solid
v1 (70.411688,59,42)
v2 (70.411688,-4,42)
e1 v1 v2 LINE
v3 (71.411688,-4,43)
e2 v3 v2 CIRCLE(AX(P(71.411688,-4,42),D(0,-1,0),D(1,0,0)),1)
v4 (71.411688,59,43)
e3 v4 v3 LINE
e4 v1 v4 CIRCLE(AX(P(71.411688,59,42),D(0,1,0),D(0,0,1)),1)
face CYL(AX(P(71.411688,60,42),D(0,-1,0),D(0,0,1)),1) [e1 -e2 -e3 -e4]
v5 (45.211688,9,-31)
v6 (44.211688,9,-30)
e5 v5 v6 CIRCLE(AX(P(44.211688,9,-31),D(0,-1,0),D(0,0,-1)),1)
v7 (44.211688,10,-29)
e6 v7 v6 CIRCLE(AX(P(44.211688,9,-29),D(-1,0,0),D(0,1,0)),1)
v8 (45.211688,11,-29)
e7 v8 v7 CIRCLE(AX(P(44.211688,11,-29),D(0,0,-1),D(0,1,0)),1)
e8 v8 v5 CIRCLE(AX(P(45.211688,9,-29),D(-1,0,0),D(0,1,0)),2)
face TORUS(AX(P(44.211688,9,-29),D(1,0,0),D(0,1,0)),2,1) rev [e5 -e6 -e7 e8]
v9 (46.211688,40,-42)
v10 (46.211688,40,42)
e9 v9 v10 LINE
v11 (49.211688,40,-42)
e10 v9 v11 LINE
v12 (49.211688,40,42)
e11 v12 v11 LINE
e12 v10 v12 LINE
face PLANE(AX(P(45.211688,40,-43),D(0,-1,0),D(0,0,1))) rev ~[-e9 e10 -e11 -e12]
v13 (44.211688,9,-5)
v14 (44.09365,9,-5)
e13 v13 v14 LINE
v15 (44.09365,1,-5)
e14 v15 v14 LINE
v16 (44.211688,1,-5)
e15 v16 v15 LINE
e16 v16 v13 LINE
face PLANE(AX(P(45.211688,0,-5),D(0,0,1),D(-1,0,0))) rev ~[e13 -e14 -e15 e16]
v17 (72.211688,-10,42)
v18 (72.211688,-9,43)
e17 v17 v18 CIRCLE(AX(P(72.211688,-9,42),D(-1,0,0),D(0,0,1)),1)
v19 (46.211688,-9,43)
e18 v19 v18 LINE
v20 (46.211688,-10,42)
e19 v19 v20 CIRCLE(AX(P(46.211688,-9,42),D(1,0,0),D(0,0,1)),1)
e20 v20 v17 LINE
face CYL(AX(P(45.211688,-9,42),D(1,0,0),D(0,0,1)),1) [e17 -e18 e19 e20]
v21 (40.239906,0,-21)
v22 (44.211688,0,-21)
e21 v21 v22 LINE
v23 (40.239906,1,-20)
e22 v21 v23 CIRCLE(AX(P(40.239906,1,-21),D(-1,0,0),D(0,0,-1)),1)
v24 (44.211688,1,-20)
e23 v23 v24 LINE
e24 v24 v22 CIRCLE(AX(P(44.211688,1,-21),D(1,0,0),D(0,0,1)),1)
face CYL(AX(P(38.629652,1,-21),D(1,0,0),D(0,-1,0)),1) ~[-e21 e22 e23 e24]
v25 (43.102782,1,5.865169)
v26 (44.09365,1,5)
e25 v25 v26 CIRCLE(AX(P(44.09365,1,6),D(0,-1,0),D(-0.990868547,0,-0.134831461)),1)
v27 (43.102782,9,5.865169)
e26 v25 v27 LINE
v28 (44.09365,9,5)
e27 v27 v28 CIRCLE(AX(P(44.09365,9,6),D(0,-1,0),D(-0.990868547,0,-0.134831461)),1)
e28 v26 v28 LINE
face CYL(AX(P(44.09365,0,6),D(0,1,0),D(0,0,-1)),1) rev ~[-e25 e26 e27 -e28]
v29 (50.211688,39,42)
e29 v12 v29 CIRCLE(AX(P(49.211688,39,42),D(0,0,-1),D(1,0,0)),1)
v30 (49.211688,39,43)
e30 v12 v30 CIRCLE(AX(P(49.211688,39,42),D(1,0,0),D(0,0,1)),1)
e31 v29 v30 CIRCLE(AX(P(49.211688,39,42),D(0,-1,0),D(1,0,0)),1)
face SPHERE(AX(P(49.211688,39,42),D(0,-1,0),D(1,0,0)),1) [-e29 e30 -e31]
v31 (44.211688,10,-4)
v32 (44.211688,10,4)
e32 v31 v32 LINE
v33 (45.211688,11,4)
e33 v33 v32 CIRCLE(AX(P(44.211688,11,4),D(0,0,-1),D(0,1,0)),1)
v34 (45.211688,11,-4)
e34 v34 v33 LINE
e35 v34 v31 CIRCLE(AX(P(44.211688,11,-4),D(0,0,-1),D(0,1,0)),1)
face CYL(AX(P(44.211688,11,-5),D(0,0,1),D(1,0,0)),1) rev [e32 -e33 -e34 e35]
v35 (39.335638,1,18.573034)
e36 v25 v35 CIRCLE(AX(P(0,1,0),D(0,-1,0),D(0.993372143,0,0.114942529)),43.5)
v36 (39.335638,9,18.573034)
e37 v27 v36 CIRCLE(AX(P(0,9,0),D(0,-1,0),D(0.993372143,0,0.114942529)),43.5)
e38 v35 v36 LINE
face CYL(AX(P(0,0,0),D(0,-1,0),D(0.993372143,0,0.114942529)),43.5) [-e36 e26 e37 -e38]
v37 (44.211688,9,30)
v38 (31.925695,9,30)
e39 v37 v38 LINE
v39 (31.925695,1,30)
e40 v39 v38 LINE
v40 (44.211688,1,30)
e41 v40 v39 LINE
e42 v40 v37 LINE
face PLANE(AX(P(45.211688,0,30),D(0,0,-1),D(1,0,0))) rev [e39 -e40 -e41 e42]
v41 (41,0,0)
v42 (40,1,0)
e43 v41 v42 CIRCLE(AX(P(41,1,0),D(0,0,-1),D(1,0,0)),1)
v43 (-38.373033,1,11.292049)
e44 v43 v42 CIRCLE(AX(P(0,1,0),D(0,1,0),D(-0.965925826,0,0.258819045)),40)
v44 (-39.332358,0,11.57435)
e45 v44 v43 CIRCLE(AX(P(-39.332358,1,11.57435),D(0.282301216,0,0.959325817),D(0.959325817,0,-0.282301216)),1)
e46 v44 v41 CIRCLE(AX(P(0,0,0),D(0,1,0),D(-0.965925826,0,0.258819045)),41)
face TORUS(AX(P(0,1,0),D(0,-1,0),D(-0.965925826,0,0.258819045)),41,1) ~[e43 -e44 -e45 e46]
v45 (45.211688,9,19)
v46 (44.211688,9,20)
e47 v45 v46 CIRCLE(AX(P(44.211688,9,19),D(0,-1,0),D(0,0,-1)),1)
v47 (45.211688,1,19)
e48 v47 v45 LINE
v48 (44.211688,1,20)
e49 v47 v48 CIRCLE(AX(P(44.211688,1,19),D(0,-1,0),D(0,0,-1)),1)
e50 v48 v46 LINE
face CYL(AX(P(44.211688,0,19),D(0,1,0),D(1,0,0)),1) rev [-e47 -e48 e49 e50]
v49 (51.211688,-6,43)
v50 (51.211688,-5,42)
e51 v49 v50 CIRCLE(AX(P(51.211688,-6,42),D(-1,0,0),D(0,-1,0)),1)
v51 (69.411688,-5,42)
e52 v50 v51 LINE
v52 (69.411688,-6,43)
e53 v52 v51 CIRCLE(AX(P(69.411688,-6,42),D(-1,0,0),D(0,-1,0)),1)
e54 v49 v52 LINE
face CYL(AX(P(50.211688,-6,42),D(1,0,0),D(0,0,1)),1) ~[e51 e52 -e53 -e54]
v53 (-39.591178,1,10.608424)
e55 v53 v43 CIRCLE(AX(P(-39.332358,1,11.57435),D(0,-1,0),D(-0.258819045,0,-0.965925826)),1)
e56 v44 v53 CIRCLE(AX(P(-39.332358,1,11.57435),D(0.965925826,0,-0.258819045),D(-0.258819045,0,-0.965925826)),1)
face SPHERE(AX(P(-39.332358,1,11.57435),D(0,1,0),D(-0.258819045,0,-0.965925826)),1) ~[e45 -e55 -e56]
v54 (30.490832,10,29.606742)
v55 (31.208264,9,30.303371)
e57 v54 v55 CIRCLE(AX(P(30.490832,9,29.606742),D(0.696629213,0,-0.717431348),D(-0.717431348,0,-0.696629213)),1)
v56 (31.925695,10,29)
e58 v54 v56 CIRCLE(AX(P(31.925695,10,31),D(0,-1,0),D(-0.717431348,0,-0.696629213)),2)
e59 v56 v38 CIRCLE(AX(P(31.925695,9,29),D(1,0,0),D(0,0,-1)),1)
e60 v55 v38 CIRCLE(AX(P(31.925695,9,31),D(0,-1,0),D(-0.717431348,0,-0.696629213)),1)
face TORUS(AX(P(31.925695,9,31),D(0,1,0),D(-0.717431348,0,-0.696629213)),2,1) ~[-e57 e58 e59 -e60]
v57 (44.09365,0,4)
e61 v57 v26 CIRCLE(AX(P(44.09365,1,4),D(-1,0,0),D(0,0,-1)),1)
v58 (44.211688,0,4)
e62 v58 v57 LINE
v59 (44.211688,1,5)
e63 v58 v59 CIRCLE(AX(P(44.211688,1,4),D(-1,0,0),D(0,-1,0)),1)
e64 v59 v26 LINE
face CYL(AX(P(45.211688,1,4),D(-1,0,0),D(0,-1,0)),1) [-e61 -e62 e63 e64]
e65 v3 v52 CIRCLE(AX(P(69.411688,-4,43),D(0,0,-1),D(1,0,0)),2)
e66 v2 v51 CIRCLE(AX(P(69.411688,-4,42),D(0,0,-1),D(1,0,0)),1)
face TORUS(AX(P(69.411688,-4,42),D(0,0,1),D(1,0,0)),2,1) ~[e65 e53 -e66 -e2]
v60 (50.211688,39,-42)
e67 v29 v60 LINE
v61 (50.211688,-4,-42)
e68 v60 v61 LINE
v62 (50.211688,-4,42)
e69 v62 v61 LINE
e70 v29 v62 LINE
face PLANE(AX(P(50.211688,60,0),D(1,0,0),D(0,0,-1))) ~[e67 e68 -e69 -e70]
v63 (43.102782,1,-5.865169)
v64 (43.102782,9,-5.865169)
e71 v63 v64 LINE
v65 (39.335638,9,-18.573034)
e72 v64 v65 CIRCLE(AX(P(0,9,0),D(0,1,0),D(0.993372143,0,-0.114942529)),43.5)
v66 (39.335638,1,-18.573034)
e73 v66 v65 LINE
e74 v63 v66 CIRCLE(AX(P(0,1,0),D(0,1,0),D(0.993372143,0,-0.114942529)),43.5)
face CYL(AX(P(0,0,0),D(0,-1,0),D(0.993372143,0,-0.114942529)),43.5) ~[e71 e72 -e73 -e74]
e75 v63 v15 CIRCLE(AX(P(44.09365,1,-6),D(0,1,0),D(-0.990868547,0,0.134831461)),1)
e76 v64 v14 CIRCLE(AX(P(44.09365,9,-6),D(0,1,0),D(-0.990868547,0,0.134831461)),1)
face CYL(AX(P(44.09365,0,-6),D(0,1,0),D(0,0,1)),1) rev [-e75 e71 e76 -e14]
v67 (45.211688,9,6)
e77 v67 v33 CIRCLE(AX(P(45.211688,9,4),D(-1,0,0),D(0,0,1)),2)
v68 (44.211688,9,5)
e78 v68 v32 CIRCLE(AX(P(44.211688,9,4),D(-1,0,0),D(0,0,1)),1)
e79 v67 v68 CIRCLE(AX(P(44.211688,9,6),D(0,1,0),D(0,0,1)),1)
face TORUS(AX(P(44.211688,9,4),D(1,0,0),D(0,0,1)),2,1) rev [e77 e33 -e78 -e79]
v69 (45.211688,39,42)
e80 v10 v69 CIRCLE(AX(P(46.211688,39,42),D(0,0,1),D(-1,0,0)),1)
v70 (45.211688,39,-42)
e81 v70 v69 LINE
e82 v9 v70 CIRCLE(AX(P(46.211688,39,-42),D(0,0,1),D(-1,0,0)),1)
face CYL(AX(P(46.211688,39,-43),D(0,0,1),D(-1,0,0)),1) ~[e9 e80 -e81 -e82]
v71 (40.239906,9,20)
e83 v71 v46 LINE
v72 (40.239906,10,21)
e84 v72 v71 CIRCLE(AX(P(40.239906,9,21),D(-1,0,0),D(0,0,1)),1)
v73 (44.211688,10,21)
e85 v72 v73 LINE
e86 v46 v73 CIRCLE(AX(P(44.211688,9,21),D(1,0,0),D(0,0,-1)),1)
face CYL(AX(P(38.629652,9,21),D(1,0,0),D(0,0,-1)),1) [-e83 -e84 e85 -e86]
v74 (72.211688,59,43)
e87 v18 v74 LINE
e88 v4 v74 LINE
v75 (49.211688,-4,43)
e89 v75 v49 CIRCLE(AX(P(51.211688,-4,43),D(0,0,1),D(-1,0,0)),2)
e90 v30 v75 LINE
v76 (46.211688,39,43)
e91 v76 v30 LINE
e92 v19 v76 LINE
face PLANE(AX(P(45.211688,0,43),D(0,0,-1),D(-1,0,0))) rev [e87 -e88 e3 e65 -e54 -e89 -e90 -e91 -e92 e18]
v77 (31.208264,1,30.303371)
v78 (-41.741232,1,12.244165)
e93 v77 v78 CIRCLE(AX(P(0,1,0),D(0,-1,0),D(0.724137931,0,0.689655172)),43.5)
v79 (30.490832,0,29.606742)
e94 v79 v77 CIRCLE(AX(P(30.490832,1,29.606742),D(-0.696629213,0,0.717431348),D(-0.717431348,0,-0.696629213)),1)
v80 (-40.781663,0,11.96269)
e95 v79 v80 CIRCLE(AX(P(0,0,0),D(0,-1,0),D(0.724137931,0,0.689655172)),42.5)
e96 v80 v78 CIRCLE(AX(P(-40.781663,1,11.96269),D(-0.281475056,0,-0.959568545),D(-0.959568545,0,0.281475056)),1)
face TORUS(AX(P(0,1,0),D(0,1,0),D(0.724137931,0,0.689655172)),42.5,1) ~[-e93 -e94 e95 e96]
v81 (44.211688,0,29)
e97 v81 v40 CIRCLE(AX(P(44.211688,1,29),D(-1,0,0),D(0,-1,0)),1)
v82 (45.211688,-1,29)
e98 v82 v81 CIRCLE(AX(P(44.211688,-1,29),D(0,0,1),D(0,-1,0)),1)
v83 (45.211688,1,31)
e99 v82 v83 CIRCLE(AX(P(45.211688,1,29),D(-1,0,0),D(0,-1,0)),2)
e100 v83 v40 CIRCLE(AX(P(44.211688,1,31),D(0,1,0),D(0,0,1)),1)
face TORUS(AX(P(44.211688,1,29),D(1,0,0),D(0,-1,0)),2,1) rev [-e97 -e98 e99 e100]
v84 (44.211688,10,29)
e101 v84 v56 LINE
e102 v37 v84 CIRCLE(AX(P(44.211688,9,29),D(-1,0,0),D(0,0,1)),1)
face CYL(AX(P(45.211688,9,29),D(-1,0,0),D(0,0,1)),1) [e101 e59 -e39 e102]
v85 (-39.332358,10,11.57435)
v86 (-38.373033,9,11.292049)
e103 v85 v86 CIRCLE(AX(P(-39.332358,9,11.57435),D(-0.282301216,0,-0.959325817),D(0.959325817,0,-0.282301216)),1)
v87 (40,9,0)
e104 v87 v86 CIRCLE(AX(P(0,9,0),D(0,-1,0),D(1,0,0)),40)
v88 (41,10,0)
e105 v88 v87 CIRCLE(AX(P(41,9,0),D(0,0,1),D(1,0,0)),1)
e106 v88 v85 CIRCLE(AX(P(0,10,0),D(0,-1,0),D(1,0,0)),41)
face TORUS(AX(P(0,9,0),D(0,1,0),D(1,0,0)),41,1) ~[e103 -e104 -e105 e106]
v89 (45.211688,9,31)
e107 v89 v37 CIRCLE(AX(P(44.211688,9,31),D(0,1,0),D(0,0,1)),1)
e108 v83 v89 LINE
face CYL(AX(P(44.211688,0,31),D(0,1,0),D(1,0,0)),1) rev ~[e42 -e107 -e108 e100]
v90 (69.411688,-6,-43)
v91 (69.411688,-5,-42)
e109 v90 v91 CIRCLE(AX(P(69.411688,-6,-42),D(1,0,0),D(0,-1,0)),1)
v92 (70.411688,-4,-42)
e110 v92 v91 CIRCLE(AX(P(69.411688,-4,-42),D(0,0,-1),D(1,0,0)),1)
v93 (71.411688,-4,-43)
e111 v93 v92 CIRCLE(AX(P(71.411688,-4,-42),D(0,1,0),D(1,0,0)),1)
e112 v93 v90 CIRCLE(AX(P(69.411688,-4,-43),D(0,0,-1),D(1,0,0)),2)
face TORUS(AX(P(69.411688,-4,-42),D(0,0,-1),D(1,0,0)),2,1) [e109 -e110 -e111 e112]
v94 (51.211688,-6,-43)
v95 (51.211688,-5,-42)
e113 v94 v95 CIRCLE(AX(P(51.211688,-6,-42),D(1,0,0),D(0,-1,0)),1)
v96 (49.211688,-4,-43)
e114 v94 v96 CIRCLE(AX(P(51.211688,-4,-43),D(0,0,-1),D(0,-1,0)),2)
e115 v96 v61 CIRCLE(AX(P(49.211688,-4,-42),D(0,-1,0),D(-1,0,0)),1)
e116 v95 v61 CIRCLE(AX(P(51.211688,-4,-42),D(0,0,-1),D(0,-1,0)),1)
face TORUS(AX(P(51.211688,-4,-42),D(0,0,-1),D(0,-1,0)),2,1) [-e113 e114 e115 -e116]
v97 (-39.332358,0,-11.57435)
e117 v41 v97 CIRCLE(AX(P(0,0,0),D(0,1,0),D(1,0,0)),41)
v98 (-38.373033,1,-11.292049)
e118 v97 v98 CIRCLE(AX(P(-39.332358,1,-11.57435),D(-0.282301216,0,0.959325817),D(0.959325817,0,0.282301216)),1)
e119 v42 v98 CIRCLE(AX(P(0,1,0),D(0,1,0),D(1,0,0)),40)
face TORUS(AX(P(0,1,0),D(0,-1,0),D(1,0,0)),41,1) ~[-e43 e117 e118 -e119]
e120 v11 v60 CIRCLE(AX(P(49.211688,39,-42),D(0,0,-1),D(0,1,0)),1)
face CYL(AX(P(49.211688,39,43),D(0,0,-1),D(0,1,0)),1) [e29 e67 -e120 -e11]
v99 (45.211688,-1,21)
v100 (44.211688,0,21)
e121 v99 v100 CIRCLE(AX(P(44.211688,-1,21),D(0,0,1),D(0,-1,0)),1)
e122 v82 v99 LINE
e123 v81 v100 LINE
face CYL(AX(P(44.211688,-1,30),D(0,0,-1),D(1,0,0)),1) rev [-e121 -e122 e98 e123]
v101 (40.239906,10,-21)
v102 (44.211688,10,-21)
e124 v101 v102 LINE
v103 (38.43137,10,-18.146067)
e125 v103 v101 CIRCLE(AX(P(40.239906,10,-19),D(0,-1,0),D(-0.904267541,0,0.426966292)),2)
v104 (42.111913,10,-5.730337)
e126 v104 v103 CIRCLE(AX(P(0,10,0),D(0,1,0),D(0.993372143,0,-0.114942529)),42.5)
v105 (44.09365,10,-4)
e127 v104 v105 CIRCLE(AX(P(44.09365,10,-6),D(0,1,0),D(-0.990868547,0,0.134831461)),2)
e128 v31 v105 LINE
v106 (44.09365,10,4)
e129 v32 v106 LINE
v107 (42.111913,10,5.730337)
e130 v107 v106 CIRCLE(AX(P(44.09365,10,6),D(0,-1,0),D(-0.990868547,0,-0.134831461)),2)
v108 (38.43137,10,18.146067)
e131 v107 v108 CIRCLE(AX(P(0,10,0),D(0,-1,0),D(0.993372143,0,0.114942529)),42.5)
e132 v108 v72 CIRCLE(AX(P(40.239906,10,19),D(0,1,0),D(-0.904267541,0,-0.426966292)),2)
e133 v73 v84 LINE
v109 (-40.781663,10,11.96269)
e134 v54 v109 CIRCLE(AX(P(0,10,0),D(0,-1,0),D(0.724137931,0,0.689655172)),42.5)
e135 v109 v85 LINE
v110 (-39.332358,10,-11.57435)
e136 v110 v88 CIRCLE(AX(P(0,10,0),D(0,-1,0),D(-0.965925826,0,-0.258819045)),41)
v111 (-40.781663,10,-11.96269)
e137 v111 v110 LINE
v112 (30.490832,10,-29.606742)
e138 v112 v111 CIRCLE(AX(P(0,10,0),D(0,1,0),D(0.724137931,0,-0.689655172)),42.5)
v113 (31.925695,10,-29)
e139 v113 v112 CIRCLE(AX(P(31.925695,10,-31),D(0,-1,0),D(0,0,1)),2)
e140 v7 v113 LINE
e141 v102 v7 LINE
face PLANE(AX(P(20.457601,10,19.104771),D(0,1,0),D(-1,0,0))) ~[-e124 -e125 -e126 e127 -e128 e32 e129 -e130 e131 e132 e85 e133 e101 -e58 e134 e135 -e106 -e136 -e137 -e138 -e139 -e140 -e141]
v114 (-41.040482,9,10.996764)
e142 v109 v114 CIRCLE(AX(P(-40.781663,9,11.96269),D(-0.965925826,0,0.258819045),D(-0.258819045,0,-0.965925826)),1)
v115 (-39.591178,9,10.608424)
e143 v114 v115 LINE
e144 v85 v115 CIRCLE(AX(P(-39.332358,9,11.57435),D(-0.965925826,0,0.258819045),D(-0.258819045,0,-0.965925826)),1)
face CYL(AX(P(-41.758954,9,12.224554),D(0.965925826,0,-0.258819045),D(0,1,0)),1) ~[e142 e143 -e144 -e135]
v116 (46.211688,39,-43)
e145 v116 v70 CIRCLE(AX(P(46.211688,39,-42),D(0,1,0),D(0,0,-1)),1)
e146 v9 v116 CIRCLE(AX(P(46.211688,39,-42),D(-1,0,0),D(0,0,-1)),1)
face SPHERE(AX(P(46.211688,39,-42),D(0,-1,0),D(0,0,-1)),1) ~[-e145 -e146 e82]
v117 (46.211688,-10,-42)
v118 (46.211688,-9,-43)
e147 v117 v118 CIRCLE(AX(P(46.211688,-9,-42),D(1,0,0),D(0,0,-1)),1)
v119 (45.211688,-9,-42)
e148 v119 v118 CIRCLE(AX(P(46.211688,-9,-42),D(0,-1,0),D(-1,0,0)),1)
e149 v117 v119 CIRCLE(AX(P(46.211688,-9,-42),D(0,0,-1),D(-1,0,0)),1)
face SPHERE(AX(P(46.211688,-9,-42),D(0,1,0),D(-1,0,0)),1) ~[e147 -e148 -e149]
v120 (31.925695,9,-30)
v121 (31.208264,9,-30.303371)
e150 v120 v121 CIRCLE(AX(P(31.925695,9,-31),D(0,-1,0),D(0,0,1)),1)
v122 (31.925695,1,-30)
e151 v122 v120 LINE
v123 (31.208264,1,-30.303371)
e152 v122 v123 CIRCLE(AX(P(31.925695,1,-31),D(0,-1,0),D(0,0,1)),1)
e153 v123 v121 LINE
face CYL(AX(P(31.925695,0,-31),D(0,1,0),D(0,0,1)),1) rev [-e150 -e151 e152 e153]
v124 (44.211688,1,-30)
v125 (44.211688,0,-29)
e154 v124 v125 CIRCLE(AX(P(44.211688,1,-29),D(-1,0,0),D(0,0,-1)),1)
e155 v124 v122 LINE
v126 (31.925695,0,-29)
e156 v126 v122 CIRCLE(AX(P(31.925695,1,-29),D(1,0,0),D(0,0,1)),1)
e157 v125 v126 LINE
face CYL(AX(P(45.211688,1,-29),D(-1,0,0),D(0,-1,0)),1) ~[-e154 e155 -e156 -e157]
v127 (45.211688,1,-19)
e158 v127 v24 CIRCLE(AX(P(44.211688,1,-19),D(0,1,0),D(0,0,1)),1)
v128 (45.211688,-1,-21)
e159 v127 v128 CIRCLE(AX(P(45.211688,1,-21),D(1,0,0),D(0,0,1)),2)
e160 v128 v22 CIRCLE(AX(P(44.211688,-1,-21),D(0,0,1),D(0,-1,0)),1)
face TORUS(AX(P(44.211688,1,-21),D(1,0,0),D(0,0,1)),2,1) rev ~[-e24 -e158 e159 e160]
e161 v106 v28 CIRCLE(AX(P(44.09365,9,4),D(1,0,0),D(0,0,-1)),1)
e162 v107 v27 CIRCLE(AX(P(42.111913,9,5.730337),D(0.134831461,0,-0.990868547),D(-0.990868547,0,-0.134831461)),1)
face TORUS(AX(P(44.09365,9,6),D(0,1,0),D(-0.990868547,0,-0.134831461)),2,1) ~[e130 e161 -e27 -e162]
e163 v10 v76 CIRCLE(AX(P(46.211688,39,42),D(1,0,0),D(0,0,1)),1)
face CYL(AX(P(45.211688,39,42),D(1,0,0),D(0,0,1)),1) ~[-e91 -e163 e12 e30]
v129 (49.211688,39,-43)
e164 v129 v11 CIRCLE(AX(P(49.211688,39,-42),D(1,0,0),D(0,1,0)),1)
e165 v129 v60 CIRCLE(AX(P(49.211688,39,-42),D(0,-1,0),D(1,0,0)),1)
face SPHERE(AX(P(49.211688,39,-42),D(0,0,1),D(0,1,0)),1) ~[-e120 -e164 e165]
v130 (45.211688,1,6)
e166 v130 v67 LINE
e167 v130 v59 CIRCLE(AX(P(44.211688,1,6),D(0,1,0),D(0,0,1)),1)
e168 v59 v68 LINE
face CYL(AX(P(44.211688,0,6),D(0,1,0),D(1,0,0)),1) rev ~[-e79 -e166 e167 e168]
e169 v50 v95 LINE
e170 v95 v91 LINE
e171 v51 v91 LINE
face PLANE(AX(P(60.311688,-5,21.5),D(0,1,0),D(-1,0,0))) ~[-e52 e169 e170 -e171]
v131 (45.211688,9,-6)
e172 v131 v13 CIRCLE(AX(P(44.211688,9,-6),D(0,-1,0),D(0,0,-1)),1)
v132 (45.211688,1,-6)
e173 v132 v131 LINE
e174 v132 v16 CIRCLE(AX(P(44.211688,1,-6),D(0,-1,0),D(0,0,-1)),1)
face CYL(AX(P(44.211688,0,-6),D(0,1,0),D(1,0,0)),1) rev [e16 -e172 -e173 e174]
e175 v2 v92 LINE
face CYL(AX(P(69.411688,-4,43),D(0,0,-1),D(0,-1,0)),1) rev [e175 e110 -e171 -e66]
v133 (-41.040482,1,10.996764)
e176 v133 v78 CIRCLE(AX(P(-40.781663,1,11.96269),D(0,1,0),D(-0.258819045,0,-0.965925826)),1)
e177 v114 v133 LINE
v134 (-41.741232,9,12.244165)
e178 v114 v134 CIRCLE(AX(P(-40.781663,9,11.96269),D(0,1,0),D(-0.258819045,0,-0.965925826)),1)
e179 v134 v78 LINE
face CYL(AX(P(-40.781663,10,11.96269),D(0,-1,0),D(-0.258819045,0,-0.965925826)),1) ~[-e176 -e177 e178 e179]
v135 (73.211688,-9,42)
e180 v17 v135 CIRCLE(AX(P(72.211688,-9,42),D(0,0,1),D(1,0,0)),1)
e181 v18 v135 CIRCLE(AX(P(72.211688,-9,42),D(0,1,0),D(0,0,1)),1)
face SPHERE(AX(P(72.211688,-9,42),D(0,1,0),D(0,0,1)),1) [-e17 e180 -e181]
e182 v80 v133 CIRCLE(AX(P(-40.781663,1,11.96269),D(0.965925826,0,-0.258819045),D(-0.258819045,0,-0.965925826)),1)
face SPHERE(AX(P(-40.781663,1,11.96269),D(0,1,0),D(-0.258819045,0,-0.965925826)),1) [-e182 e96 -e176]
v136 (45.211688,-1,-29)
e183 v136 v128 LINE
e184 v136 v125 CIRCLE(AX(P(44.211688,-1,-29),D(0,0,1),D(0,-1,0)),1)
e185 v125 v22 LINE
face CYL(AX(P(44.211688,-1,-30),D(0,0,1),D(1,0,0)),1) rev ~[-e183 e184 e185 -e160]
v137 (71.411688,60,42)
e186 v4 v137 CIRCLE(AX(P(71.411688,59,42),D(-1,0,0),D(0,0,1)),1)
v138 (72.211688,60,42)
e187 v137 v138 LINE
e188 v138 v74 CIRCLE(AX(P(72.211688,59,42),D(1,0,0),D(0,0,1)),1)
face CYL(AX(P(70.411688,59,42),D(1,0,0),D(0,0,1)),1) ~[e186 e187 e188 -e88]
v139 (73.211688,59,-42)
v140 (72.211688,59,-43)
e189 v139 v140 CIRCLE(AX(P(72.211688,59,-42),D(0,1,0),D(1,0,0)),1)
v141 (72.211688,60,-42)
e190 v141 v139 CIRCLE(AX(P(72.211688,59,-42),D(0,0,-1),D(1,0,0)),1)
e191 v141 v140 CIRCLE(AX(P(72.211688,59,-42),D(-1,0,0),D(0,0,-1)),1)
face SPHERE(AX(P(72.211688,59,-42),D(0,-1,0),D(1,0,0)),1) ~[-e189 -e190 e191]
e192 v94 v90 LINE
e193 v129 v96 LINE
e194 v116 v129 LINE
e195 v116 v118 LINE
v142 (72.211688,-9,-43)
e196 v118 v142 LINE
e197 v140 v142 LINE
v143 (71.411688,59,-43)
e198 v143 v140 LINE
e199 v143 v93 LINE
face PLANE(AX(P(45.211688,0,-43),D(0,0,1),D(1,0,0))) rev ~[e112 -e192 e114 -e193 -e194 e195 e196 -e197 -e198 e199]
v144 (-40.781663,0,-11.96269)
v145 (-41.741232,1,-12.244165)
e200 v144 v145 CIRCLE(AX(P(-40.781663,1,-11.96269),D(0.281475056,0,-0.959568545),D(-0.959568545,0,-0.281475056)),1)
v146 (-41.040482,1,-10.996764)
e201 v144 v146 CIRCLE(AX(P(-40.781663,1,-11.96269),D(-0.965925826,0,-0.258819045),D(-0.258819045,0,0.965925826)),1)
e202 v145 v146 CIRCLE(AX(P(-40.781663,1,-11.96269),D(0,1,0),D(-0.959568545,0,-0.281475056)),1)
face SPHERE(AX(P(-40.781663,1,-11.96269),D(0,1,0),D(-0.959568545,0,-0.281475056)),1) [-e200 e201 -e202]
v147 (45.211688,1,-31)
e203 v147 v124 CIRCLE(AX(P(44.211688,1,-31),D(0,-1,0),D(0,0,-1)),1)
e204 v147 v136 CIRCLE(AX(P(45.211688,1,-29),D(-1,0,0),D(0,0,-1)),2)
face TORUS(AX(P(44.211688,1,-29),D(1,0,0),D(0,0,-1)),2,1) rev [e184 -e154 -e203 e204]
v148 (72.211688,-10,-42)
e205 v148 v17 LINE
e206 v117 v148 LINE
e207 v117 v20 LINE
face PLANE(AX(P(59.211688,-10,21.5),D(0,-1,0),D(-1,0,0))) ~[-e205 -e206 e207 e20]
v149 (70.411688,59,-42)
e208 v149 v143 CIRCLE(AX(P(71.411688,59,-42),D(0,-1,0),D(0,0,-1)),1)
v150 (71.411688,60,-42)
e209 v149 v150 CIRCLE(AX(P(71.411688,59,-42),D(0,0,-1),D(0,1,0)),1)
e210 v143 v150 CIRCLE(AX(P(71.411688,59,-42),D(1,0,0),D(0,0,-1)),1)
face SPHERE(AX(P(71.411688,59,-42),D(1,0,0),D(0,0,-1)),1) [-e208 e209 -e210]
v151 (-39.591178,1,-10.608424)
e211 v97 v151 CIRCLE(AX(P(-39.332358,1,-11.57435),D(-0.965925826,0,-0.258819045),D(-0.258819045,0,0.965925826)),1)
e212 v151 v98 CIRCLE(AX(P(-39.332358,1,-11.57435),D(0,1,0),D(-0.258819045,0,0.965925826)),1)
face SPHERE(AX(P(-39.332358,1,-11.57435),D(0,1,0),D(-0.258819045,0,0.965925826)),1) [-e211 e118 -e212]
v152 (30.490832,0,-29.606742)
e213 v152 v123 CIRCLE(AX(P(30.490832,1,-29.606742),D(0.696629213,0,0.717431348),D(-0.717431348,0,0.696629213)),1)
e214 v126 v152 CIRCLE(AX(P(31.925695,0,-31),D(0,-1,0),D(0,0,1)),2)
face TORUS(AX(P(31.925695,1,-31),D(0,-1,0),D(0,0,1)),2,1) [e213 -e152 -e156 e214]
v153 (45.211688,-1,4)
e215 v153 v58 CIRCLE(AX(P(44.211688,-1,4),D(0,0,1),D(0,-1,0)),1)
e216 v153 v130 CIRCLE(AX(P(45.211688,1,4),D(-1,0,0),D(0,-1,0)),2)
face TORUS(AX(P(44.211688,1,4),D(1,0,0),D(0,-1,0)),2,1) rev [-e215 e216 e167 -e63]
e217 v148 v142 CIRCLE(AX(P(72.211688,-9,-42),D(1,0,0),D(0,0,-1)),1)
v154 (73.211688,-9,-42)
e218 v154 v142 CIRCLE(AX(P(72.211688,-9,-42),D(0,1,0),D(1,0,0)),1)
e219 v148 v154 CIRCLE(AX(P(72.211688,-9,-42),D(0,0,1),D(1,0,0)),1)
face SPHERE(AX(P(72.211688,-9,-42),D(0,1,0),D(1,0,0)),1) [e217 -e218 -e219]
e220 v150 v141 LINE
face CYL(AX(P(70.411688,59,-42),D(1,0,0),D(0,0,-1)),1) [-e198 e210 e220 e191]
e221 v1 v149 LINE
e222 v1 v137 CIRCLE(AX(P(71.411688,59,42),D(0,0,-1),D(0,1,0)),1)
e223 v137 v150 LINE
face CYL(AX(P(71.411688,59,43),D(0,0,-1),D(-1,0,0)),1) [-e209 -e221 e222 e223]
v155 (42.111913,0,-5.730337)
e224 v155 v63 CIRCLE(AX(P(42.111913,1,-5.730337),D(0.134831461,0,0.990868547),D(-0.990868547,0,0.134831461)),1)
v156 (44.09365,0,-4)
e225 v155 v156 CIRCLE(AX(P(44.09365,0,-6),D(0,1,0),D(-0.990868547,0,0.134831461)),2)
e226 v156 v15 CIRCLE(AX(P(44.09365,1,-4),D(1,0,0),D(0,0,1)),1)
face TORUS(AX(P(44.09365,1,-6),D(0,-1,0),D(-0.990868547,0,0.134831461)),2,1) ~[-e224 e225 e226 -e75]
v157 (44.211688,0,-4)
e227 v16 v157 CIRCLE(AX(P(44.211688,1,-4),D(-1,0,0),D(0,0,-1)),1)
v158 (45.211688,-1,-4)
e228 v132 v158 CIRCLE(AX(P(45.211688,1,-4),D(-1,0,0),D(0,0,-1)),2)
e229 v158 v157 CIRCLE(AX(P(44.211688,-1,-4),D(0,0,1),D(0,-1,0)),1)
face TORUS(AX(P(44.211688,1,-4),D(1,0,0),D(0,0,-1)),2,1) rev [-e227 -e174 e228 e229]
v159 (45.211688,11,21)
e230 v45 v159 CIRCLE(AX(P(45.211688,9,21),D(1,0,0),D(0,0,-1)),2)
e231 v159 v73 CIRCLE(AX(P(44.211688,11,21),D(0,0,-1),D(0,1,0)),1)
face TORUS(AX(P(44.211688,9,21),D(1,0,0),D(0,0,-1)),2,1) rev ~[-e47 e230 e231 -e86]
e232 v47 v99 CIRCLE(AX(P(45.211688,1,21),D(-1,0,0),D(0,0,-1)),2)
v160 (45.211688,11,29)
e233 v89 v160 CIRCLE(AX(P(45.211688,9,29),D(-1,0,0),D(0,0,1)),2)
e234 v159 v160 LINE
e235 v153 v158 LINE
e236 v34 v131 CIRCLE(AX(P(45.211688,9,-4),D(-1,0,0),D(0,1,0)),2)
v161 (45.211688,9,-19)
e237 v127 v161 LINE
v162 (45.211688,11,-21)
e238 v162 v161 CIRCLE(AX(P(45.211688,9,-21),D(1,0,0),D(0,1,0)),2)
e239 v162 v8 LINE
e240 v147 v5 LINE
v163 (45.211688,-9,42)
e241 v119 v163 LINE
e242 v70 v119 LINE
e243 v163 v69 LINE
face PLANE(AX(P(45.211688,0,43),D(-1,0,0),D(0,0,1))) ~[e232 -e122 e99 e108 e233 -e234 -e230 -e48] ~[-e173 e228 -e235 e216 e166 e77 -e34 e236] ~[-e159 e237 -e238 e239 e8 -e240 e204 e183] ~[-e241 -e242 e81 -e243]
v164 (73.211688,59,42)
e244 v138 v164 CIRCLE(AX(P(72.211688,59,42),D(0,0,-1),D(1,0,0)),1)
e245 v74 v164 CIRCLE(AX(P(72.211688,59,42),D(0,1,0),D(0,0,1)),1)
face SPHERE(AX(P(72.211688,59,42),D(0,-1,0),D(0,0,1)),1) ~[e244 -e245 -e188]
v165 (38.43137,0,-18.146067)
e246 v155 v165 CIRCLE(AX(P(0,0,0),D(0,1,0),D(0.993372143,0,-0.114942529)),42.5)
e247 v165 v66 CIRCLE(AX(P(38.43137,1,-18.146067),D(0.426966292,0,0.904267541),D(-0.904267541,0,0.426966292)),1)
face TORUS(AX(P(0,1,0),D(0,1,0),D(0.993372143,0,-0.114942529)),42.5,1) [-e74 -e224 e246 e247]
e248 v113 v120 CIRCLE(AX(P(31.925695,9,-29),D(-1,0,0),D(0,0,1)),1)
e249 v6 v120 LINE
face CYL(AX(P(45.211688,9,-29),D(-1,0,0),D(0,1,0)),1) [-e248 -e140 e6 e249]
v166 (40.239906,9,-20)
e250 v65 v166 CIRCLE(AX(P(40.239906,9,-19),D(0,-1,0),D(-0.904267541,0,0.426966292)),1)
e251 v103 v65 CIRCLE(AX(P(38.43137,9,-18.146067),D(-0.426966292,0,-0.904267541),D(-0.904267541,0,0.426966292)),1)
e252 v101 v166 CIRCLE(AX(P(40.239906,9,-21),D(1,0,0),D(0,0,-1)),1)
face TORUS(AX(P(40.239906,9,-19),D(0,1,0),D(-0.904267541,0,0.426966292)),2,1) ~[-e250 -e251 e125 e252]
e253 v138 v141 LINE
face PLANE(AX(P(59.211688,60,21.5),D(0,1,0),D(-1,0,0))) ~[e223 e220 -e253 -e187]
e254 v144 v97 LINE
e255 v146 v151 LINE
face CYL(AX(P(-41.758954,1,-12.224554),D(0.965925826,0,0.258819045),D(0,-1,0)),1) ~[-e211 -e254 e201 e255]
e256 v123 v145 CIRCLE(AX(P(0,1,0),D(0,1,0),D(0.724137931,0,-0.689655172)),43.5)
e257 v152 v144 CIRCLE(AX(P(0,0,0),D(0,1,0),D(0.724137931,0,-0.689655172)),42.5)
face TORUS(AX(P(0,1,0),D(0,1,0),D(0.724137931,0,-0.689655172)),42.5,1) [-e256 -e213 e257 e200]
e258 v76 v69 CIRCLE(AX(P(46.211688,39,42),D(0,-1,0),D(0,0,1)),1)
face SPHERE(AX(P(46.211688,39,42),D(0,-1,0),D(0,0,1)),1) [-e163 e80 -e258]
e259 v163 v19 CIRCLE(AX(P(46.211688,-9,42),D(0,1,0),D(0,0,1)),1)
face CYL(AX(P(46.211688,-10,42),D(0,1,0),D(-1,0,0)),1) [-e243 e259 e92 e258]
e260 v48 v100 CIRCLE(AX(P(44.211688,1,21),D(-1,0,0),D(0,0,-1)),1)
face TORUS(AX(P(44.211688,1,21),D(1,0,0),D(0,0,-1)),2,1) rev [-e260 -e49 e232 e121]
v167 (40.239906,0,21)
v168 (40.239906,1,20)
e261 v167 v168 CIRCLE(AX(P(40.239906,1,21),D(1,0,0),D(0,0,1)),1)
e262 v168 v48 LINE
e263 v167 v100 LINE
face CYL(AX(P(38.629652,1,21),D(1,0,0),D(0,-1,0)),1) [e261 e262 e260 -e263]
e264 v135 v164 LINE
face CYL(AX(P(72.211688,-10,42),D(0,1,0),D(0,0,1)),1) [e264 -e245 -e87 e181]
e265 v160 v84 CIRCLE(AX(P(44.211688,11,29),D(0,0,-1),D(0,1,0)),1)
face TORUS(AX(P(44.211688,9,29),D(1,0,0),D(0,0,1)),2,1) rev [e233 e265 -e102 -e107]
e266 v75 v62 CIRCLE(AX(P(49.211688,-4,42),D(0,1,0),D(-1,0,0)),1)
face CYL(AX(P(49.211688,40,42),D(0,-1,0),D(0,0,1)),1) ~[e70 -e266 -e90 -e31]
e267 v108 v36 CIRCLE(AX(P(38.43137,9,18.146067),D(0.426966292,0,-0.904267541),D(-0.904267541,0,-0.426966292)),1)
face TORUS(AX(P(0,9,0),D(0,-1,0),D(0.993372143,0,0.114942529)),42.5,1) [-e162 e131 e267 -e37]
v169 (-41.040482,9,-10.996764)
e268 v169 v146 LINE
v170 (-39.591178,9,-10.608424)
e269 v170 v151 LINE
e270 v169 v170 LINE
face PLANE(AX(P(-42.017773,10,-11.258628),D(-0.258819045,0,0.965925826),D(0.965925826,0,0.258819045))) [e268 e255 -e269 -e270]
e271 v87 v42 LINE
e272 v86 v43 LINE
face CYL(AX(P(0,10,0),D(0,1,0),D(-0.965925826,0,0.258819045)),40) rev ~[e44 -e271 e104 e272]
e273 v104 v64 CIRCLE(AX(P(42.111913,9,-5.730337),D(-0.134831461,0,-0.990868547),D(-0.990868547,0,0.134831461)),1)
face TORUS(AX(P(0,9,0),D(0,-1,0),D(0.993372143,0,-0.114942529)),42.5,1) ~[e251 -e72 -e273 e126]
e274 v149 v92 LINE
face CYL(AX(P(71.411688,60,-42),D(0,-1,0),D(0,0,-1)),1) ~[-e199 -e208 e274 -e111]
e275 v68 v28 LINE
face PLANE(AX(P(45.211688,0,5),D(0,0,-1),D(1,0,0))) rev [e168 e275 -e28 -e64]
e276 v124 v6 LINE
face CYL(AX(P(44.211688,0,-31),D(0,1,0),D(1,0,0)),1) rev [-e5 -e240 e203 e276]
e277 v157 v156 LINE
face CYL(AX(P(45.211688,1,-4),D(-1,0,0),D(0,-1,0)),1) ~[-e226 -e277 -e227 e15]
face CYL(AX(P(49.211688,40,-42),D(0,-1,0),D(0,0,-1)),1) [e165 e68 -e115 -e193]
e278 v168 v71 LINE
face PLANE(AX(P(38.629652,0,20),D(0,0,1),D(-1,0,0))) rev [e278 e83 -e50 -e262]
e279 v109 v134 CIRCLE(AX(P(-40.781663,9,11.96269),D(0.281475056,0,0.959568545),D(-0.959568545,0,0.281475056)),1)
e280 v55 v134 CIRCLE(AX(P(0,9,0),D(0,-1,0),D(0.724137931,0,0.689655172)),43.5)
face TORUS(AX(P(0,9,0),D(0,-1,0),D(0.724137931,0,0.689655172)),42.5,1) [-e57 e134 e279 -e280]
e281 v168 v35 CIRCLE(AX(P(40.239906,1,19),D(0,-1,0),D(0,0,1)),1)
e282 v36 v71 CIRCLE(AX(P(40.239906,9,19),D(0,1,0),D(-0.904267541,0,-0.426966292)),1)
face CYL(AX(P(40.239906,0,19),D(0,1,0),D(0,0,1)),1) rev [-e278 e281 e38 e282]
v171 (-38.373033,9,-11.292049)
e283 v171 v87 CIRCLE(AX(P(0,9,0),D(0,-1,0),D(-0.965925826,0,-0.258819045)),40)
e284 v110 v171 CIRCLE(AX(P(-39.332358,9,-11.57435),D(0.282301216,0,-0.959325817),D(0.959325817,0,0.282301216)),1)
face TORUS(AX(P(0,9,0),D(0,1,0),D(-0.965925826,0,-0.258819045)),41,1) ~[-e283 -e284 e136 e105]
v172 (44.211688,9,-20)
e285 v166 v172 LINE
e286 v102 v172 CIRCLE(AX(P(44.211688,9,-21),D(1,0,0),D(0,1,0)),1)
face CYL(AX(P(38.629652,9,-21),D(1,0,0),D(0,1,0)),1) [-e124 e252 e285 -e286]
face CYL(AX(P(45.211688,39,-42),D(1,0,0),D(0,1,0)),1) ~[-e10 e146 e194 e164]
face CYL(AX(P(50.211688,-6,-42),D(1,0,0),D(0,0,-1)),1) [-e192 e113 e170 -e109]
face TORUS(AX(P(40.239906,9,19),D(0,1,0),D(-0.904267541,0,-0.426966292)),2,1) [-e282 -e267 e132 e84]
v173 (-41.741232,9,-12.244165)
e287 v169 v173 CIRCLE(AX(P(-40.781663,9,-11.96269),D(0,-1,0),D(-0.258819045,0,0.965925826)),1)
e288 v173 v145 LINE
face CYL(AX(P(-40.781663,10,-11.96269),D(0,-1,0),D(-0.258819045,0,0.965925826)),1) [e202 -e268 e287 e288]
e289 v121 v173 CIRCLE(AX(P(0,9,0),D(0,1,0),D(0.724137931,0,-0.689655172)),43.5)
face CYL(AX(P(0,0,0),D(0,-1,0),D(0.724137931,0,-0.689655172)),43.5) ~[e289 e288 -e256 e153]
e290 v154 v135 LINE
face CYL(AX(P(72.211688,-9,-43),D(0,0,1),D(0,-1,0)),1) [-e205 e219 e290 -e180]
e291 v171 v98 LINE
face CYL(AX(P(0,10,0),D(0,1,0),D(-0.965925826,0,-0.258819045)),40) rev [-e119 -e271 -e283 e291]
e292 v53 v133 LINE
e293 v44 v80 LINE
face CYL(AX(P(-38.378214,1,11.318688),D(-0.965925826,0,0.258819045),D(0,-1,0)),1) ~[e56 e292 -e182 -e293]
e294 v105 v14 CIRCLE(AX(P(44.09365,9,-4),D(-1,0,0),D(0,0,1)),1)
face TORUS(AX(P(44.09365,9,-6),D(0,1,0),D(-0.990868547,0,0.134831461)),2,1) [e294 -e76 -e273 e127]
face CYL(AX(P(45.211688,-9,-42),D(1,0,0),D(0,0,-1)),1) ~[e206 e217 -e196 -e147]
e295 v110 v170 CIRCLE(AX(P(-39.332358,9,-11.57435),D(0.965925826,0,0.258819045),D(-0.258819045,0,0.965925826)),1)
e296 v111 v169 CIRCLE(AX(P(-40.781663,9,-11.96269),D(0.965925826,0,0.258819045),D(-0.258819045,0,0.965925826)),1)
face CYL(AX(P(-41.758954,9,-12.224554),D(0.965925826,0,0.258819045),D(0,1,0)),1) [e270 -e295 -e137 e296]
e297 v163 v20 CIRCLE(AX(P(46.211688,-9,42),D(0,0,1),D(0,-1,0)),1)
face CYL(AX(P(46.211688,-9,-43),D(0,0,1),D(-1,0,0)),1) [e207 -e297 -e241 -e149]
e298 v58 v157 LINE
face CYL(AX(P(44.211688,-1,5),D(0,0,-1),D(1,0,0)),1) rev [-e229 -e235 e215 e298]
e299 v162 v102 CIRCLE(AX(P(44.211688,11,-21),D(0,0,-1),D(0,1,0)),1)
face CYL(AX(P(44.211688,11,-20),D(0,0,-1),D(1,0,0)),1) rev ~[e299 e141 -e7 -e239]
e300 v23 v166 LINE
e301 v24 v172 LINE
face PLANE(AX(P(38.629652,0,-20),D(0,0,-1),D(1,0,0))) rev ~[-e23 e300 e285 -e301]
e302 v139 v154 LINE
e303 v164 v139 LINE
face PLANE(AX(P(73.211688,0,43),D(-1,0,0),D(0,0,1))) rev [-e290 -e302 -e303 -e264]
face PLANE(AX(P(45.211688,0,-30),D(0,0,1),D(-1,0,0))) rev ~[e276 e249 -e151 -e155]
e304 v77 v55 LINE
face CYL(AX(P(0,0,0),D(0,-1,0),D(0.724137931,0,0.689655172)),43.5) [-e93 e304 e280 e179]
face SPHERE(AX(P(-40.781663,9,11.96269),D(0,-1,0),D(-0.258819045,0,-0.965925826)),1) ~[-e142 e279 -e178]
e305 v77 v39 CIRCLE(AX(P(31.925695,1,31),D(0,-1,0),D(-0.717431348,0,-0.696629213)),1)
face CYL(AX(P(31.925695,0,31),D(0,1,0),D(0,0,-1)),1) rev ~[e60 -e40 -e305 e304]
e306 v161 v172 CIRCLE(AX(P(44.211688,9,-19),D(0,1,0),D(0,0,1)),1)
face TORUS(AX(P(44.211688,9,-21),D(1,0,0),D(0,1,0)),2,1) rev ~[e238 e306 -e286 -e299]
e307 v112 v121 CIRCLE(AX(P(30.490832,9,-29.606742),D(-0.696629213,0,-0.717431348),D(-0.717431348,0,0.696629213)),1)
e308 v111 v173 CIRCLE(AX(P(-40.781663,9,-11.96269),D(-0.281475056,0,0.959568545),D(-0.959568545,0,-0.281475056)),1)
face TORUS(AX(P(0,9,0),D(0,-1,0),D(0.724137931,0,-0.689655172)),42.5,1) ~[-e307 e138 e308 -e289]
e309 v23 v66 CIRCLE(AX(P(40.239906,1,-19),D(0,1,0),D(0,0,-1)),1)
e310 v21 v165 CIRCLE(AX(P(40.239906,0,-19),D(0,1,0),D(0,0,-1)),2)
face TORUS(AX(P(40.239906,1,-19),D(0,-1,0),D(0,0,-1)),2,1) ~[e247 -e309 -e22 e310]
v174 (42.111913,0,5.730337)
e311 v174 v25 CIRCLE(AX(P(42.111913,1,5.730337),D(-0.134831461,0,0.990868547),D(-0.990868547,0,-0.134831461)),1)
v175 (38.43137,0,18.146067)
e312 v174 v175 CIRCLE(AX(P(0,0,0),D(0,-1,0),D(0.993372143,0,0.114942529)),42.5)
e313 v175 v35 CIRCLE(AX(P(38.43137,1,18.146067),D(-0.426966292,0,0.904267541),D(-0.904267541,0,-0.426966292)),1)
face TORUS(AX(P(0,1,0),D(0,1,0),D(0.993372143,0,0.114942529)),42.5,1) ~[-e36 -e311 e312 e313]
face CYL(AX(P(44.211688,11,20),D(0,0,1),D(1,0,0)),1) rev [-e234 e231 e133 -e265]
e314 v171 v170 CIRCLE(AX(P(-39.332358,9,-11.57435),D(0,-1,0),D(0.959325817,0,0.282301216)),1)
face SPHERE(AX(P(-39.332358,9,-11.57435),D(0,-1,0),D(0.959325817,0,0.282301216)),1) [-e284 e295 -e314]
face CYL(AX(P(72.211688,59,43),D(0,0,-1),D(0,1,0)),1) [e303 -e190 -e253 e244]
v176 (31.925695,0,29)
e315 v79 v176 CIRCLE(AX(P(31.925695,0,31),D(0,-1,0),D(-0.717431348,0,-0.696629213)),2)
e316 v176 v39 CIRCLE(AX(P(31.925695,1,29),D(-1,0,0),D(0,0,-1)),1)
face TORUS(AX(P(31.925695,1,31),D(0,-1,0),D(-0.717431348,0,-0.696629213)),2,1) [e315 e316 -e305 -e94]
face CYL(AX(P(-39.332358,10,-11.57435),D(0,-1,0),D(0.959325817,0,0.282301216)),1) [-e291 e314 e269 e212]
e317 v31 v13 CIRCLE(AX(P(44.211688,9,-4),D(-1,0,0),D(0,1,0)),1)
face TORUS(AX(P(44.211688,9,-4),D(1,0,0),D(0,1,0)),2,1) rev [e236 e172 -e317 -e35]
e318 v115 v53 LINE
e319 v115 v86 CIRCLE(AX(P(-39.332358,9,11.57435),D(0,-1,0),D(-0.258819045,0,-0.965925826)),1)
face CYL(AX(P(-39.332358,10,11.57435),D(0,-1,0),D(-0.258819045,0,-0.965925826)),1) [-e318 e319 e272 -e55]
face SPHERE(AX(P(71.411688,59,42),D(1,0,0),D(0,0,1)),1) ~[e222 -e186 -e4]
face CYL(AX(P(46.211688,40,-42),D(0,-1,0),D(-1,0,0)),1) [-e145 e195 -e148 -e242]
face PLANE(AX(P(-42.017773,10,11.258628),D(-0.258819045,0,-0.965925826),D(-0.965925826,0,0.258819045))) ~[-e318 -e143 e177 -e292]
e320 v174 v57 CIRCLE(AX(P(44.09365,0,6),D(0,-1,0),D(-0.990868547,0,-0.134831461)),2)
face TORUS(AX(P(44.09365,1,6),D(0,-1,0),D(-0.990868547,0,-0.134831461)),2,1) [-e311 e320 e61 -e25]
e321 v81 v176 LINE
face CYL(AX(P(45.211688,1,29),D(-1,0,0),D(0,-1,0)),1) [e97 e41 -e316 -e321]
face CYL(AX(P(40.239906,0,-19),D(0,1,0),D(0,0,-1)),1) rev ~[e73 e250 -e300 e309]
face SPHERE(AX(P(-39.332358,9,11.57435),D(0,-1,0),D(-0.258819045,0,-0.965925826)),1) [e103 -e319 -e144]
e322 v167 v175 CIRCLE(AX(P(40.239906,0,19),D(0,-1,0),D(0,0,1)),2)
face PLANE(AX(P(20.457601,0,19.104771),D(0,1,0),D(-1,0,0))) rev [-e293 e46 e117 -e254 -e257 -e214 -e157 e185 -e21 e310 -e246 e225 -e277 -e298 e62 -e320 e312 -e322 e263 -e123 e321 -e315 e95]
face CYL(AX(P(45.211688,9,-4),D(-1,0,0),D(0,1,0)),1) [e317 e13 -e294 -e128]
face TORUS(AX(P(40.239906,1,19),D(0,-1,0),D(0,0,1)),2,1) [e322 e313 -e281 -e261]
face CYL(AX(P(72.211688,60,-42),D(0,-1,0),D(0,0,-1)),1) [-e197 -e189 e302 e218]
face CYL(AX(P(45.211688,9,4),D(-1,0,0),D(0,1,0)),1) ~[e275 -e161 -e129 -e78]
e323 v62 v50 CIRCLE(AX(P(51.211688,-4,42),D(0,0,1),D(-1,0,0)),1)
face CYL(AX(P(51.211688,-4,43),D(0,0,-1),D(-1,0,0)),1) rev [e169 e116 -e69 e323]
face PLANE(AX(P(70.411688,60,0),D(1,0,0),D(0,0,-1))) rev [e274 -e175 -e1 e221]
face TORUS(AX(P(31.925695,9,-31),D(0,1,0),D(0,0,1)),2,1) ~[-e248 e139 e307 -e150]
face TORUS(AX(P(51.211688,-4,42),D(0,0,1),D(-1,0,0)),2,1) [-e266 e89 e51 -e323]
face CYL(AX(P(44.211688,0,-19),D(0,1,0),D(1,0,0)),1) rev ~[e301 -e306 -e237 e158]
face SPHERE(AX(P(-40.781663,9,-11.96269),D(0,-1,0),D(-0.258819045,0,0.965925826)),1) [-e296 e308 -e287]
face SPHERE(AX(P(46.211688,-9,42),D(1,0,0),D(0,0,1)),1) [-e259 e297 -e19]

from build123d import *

# Parameters (mm, degrees)
BOSS_EXTRUDE1_DEPTH = 10
CUT_EXTRUDE2_DEPTH  = 86.744978244
SKETCH4_W           = 28
SKETCH4_H           = 43
BOSS_EXTRUDE2_DEPTH = 50
SKETCH5_W           = 28
SKETCH5_H           = 43
BOSS_EXTRUDE3_DEPTH = 10
SKETCH6_W           = 20.2
SKETCH6_H           = 43
CUT_EXTRUDE3_DEPTH  = 65
CUT_EXTRUDE4_REACH  = 116.461
SKETCH7_W           = 86
SKETCH7_H           = 20
FILLET5_R           = 1


with BuildPart() as part:
    # Sketch1 → Boss-Extrude1 (new body)
    with BuildSketch(Plane(origin=(0, 0, 0), x_dir=(1, 0, 0), z_dir=(0, 1, 0))):
        with BuildLine():
            Line((-43.5, 0), (73.211688234, 0))
            Line((73.211688234, 0), (73.211688234, 43))
            Line((73.211688234, 43), (45.211688234, 43))
            Line((45.211688234, 43), (45.211688234, 30))
            Line((45.211688234, 30), (31.5, 30))
            ThreePointArc((31.5, 30), (-16.155494421, 40.388736054), (-43.5, 0))
        make_face()
        with BuildLine():
            Line((45.211688234, 20), (45.211688234, 5))
            Line((45.211688234, 5), (43.211688234, 5))
            ThreePointArc((43.211688234, 5), (41.602298441, 12.708216414), (38.629651823, 20))
            Line((38.629651823, 20), (45.211688234, 20))
        make_face(mode=Mode.SUBTRACT)
    boss_extrude1 = extrude(amount=BOSS_EXTRUDE1_DEPTH)

    # Sketch3 → Cut-Extrude2 (cut, through all)
    with BuildSketch(Plane(origin=(0, 10, 0), x_dir=(1, 0, 0), z_dir=(0, 1, 0))):
        with BuildLine():
            Line((-42.017773444, 11.258628462), (-38.637033052, 10.352761804))
            ThreePointArc((-38.637033052, 10.352761804), (5.221047689, 39.657794455), (40, 0))
            Line((40, 0), (-43.5, 0))
            ThreePointArc((-43.5, 0), (-43.12785147, 5.677889362), (-42.017773444, 11.258628462))
        make_face()
    cut_extrude2 = extrude(amount=-CUT_EXTRUDE2_DEPTH, mode=Mode.SUBTRACT)

    # Sketch4 → Boss-Extrude2 (add)
    with BuildSketch(Plane(origin=(0, 10, 0), x_dir=(1, 0, 0), z_dir=(0, 1, 0))):
        with Locations((59.211688234, 21.5)):
            Rectangle(SKETCH4_W, SKETCH4_H)
    boss_extrude2 = extrude(amount=BOSS_EXTRUDE2_DEPTH)

    # Sketch5 → Boss-Extrude3 (add)
    with BuildSketch(Plane.XZ):
        with Locations((59.211688234, -21.5)):
            Rectangle(SKETCH5_W, SKETCH5_H)
    boss_extrude3 = extrude(amount=BOSS_EXTRUDE3_DEPTH)

    # Sketch6 → Cut-Extrude3 (cut)
    with BuildSketch(Plane(origin=(0, 60, 0), x_dir=(1, 0, 0), z_dir=(0, 1, 0))):
        with Locations((60.311688234, 21.5)):
            Rectangle(SKETCH6_W, SKETCH6_H)
    cut_extrude3 = extrude(amount=-CUT_EXTRUDE3_DEPTH, mode=Mode.SUBTRACT)

    # Mirror1: Boss-Extrude1, Cut-Extrude2, Boss-Extrude2, Boss-Extrude3, Cut-Extrude3 across plane
    add(boss_extrude1.mirror(Plane.XY))
    add(cut_extrude2.mirror(Plane.XY), mode=Mode.SUBTRACT)
    add(boss_extrude2.mirror(Plane.XY))
    add(boss_extrude3.mirror(Plane.XY))
    add(cut_extrude3.mirror(Plane.XY), mode=Mode.SUBTRACT)

    # Sketch7 → Cut-Extrude4 (cut, up to next)
    with BuildSketch(Plane.ZY.offset(-45.211688234), mode=Mode.PRIVATE) as cut_extrude4_sk1:
        with Locations((0, 50)):
            Rectangle(SKETCH7_W, SKETCH7_H)
    cut_extrude4_tool1 = extrude(cut_extrude4_sk1.sketch, amount=-CUT_EXTRUDE4_REACH, mode=Mode.PRIVATE) & part.part
    add(cut_extrude4_tool1.solids().sort_by_distance((45.211688, 50, 0))[0], mode=Mode.SUBTRACT)

    # Fillet5
    fillet5_edges = [part.edges().sort_by_distance(p)[0] for p in [
        (-10.745494001, 10, 42.151919988),
        (38.355844117, 10, 30),
        (31.5, 5, 30),
        (45.211688234, 5, 30),
        (73.211688234, 25, 43),
        (41.602298441, 10, 12.708216414),
        (44.211688234, 10, 5),
        (41.920670029, 10, 20),
        (-10.745494001, 0, 42.151919988),
        (38.355844117, 0, 30),
        (41.602298441, 0, 12.708216414),
        (38.629651823, 5, 20),
        (41.920670029, 0, 20),
        (45.211688234, 5, 20),
        (45.211688234, 5, 5),
        (44.211688234, 0, 5),
        (31.5, 5, -30),
        (43.211688234, 5, 5),
        (45.211688234, 5, -30),
        (73.211688234, 25, -43),
        (-42.017773444, 5, 11.258628462),
        (-38.637033052, 5, 10.352761804),
        (-40.327403248, 10, 10.805695133),
        (-40.327403248, 0, 10.805695133),
        (71.811688234, 60, 43),
        (45.211688234, 10, 25),
        (59.211688234, -10, 43),
        (45.211688234, 0, 25),
        (50.211688234, 17.5, 43),
        (70.411688234, 27.5, 43),
        (60.311688234, -5, 43),
        (41.602298441, 0, -12.708216414),
        (38.629651823, 5, -20),
        (44.211688234, 0, -5),
        (43.211688234, 5, -5),
        (45.211688234, 15, -43),
        (45.211688234, 15, 43),
        (45.211688234, 5, -5),
        (50.211688234, 40, 0),
        (47.711688234, 40, -43),
        (47.711688234, 40, 43),
        (41.920670029, 0, -20),
        (45.211688234, 40, 0),
        (45.211688234, 5, -20),
        (41.602298441, 10, -12.708216414),
        (44.211688234, 10, -5),
        (41.920670029, 10, -20),
        (38.355844117, 10, -30),
        (-40.327403248, 0, -10.805695133),
        (-42.017773444, 5, -11.258628462),
        (5.221047689, 0, 39.657794455),
        (-38.637033052, 5, -10.352761804),
        (5.221047689, 10, -39.657794455),
        (-40.327403248, 10, -10.805695133),
        (-10.745494001, 10, -42.151919988),
        (45.211688234, 10, 0),
        (45.211688234, 10, -25),
        (73.211688234, 60, 0),
        (71.811688234, 60, -43),
        (45.211688234, 0, -25),
        (45.211688234, 0, 0),
        (38.355844117, 0, -30),
        (73.211688234, -10, 0),
        (45.211688234, -10, 0),
        (59.211688234, -10, -43),
        (50.211688234, -5, 0),
        (60.311688234, -5, -43),
        (50.211688234, 17.5, -43),
        (70.411688234, -5, 0),
        (70.411688234, 27.5, -43),
        (-10.745494001, 0, -42.151919988),
        (70.411688234, 60, 0),
    ]]
    fillet(fillet5_edges, radius=FILLET5_R)


solid = part.part
